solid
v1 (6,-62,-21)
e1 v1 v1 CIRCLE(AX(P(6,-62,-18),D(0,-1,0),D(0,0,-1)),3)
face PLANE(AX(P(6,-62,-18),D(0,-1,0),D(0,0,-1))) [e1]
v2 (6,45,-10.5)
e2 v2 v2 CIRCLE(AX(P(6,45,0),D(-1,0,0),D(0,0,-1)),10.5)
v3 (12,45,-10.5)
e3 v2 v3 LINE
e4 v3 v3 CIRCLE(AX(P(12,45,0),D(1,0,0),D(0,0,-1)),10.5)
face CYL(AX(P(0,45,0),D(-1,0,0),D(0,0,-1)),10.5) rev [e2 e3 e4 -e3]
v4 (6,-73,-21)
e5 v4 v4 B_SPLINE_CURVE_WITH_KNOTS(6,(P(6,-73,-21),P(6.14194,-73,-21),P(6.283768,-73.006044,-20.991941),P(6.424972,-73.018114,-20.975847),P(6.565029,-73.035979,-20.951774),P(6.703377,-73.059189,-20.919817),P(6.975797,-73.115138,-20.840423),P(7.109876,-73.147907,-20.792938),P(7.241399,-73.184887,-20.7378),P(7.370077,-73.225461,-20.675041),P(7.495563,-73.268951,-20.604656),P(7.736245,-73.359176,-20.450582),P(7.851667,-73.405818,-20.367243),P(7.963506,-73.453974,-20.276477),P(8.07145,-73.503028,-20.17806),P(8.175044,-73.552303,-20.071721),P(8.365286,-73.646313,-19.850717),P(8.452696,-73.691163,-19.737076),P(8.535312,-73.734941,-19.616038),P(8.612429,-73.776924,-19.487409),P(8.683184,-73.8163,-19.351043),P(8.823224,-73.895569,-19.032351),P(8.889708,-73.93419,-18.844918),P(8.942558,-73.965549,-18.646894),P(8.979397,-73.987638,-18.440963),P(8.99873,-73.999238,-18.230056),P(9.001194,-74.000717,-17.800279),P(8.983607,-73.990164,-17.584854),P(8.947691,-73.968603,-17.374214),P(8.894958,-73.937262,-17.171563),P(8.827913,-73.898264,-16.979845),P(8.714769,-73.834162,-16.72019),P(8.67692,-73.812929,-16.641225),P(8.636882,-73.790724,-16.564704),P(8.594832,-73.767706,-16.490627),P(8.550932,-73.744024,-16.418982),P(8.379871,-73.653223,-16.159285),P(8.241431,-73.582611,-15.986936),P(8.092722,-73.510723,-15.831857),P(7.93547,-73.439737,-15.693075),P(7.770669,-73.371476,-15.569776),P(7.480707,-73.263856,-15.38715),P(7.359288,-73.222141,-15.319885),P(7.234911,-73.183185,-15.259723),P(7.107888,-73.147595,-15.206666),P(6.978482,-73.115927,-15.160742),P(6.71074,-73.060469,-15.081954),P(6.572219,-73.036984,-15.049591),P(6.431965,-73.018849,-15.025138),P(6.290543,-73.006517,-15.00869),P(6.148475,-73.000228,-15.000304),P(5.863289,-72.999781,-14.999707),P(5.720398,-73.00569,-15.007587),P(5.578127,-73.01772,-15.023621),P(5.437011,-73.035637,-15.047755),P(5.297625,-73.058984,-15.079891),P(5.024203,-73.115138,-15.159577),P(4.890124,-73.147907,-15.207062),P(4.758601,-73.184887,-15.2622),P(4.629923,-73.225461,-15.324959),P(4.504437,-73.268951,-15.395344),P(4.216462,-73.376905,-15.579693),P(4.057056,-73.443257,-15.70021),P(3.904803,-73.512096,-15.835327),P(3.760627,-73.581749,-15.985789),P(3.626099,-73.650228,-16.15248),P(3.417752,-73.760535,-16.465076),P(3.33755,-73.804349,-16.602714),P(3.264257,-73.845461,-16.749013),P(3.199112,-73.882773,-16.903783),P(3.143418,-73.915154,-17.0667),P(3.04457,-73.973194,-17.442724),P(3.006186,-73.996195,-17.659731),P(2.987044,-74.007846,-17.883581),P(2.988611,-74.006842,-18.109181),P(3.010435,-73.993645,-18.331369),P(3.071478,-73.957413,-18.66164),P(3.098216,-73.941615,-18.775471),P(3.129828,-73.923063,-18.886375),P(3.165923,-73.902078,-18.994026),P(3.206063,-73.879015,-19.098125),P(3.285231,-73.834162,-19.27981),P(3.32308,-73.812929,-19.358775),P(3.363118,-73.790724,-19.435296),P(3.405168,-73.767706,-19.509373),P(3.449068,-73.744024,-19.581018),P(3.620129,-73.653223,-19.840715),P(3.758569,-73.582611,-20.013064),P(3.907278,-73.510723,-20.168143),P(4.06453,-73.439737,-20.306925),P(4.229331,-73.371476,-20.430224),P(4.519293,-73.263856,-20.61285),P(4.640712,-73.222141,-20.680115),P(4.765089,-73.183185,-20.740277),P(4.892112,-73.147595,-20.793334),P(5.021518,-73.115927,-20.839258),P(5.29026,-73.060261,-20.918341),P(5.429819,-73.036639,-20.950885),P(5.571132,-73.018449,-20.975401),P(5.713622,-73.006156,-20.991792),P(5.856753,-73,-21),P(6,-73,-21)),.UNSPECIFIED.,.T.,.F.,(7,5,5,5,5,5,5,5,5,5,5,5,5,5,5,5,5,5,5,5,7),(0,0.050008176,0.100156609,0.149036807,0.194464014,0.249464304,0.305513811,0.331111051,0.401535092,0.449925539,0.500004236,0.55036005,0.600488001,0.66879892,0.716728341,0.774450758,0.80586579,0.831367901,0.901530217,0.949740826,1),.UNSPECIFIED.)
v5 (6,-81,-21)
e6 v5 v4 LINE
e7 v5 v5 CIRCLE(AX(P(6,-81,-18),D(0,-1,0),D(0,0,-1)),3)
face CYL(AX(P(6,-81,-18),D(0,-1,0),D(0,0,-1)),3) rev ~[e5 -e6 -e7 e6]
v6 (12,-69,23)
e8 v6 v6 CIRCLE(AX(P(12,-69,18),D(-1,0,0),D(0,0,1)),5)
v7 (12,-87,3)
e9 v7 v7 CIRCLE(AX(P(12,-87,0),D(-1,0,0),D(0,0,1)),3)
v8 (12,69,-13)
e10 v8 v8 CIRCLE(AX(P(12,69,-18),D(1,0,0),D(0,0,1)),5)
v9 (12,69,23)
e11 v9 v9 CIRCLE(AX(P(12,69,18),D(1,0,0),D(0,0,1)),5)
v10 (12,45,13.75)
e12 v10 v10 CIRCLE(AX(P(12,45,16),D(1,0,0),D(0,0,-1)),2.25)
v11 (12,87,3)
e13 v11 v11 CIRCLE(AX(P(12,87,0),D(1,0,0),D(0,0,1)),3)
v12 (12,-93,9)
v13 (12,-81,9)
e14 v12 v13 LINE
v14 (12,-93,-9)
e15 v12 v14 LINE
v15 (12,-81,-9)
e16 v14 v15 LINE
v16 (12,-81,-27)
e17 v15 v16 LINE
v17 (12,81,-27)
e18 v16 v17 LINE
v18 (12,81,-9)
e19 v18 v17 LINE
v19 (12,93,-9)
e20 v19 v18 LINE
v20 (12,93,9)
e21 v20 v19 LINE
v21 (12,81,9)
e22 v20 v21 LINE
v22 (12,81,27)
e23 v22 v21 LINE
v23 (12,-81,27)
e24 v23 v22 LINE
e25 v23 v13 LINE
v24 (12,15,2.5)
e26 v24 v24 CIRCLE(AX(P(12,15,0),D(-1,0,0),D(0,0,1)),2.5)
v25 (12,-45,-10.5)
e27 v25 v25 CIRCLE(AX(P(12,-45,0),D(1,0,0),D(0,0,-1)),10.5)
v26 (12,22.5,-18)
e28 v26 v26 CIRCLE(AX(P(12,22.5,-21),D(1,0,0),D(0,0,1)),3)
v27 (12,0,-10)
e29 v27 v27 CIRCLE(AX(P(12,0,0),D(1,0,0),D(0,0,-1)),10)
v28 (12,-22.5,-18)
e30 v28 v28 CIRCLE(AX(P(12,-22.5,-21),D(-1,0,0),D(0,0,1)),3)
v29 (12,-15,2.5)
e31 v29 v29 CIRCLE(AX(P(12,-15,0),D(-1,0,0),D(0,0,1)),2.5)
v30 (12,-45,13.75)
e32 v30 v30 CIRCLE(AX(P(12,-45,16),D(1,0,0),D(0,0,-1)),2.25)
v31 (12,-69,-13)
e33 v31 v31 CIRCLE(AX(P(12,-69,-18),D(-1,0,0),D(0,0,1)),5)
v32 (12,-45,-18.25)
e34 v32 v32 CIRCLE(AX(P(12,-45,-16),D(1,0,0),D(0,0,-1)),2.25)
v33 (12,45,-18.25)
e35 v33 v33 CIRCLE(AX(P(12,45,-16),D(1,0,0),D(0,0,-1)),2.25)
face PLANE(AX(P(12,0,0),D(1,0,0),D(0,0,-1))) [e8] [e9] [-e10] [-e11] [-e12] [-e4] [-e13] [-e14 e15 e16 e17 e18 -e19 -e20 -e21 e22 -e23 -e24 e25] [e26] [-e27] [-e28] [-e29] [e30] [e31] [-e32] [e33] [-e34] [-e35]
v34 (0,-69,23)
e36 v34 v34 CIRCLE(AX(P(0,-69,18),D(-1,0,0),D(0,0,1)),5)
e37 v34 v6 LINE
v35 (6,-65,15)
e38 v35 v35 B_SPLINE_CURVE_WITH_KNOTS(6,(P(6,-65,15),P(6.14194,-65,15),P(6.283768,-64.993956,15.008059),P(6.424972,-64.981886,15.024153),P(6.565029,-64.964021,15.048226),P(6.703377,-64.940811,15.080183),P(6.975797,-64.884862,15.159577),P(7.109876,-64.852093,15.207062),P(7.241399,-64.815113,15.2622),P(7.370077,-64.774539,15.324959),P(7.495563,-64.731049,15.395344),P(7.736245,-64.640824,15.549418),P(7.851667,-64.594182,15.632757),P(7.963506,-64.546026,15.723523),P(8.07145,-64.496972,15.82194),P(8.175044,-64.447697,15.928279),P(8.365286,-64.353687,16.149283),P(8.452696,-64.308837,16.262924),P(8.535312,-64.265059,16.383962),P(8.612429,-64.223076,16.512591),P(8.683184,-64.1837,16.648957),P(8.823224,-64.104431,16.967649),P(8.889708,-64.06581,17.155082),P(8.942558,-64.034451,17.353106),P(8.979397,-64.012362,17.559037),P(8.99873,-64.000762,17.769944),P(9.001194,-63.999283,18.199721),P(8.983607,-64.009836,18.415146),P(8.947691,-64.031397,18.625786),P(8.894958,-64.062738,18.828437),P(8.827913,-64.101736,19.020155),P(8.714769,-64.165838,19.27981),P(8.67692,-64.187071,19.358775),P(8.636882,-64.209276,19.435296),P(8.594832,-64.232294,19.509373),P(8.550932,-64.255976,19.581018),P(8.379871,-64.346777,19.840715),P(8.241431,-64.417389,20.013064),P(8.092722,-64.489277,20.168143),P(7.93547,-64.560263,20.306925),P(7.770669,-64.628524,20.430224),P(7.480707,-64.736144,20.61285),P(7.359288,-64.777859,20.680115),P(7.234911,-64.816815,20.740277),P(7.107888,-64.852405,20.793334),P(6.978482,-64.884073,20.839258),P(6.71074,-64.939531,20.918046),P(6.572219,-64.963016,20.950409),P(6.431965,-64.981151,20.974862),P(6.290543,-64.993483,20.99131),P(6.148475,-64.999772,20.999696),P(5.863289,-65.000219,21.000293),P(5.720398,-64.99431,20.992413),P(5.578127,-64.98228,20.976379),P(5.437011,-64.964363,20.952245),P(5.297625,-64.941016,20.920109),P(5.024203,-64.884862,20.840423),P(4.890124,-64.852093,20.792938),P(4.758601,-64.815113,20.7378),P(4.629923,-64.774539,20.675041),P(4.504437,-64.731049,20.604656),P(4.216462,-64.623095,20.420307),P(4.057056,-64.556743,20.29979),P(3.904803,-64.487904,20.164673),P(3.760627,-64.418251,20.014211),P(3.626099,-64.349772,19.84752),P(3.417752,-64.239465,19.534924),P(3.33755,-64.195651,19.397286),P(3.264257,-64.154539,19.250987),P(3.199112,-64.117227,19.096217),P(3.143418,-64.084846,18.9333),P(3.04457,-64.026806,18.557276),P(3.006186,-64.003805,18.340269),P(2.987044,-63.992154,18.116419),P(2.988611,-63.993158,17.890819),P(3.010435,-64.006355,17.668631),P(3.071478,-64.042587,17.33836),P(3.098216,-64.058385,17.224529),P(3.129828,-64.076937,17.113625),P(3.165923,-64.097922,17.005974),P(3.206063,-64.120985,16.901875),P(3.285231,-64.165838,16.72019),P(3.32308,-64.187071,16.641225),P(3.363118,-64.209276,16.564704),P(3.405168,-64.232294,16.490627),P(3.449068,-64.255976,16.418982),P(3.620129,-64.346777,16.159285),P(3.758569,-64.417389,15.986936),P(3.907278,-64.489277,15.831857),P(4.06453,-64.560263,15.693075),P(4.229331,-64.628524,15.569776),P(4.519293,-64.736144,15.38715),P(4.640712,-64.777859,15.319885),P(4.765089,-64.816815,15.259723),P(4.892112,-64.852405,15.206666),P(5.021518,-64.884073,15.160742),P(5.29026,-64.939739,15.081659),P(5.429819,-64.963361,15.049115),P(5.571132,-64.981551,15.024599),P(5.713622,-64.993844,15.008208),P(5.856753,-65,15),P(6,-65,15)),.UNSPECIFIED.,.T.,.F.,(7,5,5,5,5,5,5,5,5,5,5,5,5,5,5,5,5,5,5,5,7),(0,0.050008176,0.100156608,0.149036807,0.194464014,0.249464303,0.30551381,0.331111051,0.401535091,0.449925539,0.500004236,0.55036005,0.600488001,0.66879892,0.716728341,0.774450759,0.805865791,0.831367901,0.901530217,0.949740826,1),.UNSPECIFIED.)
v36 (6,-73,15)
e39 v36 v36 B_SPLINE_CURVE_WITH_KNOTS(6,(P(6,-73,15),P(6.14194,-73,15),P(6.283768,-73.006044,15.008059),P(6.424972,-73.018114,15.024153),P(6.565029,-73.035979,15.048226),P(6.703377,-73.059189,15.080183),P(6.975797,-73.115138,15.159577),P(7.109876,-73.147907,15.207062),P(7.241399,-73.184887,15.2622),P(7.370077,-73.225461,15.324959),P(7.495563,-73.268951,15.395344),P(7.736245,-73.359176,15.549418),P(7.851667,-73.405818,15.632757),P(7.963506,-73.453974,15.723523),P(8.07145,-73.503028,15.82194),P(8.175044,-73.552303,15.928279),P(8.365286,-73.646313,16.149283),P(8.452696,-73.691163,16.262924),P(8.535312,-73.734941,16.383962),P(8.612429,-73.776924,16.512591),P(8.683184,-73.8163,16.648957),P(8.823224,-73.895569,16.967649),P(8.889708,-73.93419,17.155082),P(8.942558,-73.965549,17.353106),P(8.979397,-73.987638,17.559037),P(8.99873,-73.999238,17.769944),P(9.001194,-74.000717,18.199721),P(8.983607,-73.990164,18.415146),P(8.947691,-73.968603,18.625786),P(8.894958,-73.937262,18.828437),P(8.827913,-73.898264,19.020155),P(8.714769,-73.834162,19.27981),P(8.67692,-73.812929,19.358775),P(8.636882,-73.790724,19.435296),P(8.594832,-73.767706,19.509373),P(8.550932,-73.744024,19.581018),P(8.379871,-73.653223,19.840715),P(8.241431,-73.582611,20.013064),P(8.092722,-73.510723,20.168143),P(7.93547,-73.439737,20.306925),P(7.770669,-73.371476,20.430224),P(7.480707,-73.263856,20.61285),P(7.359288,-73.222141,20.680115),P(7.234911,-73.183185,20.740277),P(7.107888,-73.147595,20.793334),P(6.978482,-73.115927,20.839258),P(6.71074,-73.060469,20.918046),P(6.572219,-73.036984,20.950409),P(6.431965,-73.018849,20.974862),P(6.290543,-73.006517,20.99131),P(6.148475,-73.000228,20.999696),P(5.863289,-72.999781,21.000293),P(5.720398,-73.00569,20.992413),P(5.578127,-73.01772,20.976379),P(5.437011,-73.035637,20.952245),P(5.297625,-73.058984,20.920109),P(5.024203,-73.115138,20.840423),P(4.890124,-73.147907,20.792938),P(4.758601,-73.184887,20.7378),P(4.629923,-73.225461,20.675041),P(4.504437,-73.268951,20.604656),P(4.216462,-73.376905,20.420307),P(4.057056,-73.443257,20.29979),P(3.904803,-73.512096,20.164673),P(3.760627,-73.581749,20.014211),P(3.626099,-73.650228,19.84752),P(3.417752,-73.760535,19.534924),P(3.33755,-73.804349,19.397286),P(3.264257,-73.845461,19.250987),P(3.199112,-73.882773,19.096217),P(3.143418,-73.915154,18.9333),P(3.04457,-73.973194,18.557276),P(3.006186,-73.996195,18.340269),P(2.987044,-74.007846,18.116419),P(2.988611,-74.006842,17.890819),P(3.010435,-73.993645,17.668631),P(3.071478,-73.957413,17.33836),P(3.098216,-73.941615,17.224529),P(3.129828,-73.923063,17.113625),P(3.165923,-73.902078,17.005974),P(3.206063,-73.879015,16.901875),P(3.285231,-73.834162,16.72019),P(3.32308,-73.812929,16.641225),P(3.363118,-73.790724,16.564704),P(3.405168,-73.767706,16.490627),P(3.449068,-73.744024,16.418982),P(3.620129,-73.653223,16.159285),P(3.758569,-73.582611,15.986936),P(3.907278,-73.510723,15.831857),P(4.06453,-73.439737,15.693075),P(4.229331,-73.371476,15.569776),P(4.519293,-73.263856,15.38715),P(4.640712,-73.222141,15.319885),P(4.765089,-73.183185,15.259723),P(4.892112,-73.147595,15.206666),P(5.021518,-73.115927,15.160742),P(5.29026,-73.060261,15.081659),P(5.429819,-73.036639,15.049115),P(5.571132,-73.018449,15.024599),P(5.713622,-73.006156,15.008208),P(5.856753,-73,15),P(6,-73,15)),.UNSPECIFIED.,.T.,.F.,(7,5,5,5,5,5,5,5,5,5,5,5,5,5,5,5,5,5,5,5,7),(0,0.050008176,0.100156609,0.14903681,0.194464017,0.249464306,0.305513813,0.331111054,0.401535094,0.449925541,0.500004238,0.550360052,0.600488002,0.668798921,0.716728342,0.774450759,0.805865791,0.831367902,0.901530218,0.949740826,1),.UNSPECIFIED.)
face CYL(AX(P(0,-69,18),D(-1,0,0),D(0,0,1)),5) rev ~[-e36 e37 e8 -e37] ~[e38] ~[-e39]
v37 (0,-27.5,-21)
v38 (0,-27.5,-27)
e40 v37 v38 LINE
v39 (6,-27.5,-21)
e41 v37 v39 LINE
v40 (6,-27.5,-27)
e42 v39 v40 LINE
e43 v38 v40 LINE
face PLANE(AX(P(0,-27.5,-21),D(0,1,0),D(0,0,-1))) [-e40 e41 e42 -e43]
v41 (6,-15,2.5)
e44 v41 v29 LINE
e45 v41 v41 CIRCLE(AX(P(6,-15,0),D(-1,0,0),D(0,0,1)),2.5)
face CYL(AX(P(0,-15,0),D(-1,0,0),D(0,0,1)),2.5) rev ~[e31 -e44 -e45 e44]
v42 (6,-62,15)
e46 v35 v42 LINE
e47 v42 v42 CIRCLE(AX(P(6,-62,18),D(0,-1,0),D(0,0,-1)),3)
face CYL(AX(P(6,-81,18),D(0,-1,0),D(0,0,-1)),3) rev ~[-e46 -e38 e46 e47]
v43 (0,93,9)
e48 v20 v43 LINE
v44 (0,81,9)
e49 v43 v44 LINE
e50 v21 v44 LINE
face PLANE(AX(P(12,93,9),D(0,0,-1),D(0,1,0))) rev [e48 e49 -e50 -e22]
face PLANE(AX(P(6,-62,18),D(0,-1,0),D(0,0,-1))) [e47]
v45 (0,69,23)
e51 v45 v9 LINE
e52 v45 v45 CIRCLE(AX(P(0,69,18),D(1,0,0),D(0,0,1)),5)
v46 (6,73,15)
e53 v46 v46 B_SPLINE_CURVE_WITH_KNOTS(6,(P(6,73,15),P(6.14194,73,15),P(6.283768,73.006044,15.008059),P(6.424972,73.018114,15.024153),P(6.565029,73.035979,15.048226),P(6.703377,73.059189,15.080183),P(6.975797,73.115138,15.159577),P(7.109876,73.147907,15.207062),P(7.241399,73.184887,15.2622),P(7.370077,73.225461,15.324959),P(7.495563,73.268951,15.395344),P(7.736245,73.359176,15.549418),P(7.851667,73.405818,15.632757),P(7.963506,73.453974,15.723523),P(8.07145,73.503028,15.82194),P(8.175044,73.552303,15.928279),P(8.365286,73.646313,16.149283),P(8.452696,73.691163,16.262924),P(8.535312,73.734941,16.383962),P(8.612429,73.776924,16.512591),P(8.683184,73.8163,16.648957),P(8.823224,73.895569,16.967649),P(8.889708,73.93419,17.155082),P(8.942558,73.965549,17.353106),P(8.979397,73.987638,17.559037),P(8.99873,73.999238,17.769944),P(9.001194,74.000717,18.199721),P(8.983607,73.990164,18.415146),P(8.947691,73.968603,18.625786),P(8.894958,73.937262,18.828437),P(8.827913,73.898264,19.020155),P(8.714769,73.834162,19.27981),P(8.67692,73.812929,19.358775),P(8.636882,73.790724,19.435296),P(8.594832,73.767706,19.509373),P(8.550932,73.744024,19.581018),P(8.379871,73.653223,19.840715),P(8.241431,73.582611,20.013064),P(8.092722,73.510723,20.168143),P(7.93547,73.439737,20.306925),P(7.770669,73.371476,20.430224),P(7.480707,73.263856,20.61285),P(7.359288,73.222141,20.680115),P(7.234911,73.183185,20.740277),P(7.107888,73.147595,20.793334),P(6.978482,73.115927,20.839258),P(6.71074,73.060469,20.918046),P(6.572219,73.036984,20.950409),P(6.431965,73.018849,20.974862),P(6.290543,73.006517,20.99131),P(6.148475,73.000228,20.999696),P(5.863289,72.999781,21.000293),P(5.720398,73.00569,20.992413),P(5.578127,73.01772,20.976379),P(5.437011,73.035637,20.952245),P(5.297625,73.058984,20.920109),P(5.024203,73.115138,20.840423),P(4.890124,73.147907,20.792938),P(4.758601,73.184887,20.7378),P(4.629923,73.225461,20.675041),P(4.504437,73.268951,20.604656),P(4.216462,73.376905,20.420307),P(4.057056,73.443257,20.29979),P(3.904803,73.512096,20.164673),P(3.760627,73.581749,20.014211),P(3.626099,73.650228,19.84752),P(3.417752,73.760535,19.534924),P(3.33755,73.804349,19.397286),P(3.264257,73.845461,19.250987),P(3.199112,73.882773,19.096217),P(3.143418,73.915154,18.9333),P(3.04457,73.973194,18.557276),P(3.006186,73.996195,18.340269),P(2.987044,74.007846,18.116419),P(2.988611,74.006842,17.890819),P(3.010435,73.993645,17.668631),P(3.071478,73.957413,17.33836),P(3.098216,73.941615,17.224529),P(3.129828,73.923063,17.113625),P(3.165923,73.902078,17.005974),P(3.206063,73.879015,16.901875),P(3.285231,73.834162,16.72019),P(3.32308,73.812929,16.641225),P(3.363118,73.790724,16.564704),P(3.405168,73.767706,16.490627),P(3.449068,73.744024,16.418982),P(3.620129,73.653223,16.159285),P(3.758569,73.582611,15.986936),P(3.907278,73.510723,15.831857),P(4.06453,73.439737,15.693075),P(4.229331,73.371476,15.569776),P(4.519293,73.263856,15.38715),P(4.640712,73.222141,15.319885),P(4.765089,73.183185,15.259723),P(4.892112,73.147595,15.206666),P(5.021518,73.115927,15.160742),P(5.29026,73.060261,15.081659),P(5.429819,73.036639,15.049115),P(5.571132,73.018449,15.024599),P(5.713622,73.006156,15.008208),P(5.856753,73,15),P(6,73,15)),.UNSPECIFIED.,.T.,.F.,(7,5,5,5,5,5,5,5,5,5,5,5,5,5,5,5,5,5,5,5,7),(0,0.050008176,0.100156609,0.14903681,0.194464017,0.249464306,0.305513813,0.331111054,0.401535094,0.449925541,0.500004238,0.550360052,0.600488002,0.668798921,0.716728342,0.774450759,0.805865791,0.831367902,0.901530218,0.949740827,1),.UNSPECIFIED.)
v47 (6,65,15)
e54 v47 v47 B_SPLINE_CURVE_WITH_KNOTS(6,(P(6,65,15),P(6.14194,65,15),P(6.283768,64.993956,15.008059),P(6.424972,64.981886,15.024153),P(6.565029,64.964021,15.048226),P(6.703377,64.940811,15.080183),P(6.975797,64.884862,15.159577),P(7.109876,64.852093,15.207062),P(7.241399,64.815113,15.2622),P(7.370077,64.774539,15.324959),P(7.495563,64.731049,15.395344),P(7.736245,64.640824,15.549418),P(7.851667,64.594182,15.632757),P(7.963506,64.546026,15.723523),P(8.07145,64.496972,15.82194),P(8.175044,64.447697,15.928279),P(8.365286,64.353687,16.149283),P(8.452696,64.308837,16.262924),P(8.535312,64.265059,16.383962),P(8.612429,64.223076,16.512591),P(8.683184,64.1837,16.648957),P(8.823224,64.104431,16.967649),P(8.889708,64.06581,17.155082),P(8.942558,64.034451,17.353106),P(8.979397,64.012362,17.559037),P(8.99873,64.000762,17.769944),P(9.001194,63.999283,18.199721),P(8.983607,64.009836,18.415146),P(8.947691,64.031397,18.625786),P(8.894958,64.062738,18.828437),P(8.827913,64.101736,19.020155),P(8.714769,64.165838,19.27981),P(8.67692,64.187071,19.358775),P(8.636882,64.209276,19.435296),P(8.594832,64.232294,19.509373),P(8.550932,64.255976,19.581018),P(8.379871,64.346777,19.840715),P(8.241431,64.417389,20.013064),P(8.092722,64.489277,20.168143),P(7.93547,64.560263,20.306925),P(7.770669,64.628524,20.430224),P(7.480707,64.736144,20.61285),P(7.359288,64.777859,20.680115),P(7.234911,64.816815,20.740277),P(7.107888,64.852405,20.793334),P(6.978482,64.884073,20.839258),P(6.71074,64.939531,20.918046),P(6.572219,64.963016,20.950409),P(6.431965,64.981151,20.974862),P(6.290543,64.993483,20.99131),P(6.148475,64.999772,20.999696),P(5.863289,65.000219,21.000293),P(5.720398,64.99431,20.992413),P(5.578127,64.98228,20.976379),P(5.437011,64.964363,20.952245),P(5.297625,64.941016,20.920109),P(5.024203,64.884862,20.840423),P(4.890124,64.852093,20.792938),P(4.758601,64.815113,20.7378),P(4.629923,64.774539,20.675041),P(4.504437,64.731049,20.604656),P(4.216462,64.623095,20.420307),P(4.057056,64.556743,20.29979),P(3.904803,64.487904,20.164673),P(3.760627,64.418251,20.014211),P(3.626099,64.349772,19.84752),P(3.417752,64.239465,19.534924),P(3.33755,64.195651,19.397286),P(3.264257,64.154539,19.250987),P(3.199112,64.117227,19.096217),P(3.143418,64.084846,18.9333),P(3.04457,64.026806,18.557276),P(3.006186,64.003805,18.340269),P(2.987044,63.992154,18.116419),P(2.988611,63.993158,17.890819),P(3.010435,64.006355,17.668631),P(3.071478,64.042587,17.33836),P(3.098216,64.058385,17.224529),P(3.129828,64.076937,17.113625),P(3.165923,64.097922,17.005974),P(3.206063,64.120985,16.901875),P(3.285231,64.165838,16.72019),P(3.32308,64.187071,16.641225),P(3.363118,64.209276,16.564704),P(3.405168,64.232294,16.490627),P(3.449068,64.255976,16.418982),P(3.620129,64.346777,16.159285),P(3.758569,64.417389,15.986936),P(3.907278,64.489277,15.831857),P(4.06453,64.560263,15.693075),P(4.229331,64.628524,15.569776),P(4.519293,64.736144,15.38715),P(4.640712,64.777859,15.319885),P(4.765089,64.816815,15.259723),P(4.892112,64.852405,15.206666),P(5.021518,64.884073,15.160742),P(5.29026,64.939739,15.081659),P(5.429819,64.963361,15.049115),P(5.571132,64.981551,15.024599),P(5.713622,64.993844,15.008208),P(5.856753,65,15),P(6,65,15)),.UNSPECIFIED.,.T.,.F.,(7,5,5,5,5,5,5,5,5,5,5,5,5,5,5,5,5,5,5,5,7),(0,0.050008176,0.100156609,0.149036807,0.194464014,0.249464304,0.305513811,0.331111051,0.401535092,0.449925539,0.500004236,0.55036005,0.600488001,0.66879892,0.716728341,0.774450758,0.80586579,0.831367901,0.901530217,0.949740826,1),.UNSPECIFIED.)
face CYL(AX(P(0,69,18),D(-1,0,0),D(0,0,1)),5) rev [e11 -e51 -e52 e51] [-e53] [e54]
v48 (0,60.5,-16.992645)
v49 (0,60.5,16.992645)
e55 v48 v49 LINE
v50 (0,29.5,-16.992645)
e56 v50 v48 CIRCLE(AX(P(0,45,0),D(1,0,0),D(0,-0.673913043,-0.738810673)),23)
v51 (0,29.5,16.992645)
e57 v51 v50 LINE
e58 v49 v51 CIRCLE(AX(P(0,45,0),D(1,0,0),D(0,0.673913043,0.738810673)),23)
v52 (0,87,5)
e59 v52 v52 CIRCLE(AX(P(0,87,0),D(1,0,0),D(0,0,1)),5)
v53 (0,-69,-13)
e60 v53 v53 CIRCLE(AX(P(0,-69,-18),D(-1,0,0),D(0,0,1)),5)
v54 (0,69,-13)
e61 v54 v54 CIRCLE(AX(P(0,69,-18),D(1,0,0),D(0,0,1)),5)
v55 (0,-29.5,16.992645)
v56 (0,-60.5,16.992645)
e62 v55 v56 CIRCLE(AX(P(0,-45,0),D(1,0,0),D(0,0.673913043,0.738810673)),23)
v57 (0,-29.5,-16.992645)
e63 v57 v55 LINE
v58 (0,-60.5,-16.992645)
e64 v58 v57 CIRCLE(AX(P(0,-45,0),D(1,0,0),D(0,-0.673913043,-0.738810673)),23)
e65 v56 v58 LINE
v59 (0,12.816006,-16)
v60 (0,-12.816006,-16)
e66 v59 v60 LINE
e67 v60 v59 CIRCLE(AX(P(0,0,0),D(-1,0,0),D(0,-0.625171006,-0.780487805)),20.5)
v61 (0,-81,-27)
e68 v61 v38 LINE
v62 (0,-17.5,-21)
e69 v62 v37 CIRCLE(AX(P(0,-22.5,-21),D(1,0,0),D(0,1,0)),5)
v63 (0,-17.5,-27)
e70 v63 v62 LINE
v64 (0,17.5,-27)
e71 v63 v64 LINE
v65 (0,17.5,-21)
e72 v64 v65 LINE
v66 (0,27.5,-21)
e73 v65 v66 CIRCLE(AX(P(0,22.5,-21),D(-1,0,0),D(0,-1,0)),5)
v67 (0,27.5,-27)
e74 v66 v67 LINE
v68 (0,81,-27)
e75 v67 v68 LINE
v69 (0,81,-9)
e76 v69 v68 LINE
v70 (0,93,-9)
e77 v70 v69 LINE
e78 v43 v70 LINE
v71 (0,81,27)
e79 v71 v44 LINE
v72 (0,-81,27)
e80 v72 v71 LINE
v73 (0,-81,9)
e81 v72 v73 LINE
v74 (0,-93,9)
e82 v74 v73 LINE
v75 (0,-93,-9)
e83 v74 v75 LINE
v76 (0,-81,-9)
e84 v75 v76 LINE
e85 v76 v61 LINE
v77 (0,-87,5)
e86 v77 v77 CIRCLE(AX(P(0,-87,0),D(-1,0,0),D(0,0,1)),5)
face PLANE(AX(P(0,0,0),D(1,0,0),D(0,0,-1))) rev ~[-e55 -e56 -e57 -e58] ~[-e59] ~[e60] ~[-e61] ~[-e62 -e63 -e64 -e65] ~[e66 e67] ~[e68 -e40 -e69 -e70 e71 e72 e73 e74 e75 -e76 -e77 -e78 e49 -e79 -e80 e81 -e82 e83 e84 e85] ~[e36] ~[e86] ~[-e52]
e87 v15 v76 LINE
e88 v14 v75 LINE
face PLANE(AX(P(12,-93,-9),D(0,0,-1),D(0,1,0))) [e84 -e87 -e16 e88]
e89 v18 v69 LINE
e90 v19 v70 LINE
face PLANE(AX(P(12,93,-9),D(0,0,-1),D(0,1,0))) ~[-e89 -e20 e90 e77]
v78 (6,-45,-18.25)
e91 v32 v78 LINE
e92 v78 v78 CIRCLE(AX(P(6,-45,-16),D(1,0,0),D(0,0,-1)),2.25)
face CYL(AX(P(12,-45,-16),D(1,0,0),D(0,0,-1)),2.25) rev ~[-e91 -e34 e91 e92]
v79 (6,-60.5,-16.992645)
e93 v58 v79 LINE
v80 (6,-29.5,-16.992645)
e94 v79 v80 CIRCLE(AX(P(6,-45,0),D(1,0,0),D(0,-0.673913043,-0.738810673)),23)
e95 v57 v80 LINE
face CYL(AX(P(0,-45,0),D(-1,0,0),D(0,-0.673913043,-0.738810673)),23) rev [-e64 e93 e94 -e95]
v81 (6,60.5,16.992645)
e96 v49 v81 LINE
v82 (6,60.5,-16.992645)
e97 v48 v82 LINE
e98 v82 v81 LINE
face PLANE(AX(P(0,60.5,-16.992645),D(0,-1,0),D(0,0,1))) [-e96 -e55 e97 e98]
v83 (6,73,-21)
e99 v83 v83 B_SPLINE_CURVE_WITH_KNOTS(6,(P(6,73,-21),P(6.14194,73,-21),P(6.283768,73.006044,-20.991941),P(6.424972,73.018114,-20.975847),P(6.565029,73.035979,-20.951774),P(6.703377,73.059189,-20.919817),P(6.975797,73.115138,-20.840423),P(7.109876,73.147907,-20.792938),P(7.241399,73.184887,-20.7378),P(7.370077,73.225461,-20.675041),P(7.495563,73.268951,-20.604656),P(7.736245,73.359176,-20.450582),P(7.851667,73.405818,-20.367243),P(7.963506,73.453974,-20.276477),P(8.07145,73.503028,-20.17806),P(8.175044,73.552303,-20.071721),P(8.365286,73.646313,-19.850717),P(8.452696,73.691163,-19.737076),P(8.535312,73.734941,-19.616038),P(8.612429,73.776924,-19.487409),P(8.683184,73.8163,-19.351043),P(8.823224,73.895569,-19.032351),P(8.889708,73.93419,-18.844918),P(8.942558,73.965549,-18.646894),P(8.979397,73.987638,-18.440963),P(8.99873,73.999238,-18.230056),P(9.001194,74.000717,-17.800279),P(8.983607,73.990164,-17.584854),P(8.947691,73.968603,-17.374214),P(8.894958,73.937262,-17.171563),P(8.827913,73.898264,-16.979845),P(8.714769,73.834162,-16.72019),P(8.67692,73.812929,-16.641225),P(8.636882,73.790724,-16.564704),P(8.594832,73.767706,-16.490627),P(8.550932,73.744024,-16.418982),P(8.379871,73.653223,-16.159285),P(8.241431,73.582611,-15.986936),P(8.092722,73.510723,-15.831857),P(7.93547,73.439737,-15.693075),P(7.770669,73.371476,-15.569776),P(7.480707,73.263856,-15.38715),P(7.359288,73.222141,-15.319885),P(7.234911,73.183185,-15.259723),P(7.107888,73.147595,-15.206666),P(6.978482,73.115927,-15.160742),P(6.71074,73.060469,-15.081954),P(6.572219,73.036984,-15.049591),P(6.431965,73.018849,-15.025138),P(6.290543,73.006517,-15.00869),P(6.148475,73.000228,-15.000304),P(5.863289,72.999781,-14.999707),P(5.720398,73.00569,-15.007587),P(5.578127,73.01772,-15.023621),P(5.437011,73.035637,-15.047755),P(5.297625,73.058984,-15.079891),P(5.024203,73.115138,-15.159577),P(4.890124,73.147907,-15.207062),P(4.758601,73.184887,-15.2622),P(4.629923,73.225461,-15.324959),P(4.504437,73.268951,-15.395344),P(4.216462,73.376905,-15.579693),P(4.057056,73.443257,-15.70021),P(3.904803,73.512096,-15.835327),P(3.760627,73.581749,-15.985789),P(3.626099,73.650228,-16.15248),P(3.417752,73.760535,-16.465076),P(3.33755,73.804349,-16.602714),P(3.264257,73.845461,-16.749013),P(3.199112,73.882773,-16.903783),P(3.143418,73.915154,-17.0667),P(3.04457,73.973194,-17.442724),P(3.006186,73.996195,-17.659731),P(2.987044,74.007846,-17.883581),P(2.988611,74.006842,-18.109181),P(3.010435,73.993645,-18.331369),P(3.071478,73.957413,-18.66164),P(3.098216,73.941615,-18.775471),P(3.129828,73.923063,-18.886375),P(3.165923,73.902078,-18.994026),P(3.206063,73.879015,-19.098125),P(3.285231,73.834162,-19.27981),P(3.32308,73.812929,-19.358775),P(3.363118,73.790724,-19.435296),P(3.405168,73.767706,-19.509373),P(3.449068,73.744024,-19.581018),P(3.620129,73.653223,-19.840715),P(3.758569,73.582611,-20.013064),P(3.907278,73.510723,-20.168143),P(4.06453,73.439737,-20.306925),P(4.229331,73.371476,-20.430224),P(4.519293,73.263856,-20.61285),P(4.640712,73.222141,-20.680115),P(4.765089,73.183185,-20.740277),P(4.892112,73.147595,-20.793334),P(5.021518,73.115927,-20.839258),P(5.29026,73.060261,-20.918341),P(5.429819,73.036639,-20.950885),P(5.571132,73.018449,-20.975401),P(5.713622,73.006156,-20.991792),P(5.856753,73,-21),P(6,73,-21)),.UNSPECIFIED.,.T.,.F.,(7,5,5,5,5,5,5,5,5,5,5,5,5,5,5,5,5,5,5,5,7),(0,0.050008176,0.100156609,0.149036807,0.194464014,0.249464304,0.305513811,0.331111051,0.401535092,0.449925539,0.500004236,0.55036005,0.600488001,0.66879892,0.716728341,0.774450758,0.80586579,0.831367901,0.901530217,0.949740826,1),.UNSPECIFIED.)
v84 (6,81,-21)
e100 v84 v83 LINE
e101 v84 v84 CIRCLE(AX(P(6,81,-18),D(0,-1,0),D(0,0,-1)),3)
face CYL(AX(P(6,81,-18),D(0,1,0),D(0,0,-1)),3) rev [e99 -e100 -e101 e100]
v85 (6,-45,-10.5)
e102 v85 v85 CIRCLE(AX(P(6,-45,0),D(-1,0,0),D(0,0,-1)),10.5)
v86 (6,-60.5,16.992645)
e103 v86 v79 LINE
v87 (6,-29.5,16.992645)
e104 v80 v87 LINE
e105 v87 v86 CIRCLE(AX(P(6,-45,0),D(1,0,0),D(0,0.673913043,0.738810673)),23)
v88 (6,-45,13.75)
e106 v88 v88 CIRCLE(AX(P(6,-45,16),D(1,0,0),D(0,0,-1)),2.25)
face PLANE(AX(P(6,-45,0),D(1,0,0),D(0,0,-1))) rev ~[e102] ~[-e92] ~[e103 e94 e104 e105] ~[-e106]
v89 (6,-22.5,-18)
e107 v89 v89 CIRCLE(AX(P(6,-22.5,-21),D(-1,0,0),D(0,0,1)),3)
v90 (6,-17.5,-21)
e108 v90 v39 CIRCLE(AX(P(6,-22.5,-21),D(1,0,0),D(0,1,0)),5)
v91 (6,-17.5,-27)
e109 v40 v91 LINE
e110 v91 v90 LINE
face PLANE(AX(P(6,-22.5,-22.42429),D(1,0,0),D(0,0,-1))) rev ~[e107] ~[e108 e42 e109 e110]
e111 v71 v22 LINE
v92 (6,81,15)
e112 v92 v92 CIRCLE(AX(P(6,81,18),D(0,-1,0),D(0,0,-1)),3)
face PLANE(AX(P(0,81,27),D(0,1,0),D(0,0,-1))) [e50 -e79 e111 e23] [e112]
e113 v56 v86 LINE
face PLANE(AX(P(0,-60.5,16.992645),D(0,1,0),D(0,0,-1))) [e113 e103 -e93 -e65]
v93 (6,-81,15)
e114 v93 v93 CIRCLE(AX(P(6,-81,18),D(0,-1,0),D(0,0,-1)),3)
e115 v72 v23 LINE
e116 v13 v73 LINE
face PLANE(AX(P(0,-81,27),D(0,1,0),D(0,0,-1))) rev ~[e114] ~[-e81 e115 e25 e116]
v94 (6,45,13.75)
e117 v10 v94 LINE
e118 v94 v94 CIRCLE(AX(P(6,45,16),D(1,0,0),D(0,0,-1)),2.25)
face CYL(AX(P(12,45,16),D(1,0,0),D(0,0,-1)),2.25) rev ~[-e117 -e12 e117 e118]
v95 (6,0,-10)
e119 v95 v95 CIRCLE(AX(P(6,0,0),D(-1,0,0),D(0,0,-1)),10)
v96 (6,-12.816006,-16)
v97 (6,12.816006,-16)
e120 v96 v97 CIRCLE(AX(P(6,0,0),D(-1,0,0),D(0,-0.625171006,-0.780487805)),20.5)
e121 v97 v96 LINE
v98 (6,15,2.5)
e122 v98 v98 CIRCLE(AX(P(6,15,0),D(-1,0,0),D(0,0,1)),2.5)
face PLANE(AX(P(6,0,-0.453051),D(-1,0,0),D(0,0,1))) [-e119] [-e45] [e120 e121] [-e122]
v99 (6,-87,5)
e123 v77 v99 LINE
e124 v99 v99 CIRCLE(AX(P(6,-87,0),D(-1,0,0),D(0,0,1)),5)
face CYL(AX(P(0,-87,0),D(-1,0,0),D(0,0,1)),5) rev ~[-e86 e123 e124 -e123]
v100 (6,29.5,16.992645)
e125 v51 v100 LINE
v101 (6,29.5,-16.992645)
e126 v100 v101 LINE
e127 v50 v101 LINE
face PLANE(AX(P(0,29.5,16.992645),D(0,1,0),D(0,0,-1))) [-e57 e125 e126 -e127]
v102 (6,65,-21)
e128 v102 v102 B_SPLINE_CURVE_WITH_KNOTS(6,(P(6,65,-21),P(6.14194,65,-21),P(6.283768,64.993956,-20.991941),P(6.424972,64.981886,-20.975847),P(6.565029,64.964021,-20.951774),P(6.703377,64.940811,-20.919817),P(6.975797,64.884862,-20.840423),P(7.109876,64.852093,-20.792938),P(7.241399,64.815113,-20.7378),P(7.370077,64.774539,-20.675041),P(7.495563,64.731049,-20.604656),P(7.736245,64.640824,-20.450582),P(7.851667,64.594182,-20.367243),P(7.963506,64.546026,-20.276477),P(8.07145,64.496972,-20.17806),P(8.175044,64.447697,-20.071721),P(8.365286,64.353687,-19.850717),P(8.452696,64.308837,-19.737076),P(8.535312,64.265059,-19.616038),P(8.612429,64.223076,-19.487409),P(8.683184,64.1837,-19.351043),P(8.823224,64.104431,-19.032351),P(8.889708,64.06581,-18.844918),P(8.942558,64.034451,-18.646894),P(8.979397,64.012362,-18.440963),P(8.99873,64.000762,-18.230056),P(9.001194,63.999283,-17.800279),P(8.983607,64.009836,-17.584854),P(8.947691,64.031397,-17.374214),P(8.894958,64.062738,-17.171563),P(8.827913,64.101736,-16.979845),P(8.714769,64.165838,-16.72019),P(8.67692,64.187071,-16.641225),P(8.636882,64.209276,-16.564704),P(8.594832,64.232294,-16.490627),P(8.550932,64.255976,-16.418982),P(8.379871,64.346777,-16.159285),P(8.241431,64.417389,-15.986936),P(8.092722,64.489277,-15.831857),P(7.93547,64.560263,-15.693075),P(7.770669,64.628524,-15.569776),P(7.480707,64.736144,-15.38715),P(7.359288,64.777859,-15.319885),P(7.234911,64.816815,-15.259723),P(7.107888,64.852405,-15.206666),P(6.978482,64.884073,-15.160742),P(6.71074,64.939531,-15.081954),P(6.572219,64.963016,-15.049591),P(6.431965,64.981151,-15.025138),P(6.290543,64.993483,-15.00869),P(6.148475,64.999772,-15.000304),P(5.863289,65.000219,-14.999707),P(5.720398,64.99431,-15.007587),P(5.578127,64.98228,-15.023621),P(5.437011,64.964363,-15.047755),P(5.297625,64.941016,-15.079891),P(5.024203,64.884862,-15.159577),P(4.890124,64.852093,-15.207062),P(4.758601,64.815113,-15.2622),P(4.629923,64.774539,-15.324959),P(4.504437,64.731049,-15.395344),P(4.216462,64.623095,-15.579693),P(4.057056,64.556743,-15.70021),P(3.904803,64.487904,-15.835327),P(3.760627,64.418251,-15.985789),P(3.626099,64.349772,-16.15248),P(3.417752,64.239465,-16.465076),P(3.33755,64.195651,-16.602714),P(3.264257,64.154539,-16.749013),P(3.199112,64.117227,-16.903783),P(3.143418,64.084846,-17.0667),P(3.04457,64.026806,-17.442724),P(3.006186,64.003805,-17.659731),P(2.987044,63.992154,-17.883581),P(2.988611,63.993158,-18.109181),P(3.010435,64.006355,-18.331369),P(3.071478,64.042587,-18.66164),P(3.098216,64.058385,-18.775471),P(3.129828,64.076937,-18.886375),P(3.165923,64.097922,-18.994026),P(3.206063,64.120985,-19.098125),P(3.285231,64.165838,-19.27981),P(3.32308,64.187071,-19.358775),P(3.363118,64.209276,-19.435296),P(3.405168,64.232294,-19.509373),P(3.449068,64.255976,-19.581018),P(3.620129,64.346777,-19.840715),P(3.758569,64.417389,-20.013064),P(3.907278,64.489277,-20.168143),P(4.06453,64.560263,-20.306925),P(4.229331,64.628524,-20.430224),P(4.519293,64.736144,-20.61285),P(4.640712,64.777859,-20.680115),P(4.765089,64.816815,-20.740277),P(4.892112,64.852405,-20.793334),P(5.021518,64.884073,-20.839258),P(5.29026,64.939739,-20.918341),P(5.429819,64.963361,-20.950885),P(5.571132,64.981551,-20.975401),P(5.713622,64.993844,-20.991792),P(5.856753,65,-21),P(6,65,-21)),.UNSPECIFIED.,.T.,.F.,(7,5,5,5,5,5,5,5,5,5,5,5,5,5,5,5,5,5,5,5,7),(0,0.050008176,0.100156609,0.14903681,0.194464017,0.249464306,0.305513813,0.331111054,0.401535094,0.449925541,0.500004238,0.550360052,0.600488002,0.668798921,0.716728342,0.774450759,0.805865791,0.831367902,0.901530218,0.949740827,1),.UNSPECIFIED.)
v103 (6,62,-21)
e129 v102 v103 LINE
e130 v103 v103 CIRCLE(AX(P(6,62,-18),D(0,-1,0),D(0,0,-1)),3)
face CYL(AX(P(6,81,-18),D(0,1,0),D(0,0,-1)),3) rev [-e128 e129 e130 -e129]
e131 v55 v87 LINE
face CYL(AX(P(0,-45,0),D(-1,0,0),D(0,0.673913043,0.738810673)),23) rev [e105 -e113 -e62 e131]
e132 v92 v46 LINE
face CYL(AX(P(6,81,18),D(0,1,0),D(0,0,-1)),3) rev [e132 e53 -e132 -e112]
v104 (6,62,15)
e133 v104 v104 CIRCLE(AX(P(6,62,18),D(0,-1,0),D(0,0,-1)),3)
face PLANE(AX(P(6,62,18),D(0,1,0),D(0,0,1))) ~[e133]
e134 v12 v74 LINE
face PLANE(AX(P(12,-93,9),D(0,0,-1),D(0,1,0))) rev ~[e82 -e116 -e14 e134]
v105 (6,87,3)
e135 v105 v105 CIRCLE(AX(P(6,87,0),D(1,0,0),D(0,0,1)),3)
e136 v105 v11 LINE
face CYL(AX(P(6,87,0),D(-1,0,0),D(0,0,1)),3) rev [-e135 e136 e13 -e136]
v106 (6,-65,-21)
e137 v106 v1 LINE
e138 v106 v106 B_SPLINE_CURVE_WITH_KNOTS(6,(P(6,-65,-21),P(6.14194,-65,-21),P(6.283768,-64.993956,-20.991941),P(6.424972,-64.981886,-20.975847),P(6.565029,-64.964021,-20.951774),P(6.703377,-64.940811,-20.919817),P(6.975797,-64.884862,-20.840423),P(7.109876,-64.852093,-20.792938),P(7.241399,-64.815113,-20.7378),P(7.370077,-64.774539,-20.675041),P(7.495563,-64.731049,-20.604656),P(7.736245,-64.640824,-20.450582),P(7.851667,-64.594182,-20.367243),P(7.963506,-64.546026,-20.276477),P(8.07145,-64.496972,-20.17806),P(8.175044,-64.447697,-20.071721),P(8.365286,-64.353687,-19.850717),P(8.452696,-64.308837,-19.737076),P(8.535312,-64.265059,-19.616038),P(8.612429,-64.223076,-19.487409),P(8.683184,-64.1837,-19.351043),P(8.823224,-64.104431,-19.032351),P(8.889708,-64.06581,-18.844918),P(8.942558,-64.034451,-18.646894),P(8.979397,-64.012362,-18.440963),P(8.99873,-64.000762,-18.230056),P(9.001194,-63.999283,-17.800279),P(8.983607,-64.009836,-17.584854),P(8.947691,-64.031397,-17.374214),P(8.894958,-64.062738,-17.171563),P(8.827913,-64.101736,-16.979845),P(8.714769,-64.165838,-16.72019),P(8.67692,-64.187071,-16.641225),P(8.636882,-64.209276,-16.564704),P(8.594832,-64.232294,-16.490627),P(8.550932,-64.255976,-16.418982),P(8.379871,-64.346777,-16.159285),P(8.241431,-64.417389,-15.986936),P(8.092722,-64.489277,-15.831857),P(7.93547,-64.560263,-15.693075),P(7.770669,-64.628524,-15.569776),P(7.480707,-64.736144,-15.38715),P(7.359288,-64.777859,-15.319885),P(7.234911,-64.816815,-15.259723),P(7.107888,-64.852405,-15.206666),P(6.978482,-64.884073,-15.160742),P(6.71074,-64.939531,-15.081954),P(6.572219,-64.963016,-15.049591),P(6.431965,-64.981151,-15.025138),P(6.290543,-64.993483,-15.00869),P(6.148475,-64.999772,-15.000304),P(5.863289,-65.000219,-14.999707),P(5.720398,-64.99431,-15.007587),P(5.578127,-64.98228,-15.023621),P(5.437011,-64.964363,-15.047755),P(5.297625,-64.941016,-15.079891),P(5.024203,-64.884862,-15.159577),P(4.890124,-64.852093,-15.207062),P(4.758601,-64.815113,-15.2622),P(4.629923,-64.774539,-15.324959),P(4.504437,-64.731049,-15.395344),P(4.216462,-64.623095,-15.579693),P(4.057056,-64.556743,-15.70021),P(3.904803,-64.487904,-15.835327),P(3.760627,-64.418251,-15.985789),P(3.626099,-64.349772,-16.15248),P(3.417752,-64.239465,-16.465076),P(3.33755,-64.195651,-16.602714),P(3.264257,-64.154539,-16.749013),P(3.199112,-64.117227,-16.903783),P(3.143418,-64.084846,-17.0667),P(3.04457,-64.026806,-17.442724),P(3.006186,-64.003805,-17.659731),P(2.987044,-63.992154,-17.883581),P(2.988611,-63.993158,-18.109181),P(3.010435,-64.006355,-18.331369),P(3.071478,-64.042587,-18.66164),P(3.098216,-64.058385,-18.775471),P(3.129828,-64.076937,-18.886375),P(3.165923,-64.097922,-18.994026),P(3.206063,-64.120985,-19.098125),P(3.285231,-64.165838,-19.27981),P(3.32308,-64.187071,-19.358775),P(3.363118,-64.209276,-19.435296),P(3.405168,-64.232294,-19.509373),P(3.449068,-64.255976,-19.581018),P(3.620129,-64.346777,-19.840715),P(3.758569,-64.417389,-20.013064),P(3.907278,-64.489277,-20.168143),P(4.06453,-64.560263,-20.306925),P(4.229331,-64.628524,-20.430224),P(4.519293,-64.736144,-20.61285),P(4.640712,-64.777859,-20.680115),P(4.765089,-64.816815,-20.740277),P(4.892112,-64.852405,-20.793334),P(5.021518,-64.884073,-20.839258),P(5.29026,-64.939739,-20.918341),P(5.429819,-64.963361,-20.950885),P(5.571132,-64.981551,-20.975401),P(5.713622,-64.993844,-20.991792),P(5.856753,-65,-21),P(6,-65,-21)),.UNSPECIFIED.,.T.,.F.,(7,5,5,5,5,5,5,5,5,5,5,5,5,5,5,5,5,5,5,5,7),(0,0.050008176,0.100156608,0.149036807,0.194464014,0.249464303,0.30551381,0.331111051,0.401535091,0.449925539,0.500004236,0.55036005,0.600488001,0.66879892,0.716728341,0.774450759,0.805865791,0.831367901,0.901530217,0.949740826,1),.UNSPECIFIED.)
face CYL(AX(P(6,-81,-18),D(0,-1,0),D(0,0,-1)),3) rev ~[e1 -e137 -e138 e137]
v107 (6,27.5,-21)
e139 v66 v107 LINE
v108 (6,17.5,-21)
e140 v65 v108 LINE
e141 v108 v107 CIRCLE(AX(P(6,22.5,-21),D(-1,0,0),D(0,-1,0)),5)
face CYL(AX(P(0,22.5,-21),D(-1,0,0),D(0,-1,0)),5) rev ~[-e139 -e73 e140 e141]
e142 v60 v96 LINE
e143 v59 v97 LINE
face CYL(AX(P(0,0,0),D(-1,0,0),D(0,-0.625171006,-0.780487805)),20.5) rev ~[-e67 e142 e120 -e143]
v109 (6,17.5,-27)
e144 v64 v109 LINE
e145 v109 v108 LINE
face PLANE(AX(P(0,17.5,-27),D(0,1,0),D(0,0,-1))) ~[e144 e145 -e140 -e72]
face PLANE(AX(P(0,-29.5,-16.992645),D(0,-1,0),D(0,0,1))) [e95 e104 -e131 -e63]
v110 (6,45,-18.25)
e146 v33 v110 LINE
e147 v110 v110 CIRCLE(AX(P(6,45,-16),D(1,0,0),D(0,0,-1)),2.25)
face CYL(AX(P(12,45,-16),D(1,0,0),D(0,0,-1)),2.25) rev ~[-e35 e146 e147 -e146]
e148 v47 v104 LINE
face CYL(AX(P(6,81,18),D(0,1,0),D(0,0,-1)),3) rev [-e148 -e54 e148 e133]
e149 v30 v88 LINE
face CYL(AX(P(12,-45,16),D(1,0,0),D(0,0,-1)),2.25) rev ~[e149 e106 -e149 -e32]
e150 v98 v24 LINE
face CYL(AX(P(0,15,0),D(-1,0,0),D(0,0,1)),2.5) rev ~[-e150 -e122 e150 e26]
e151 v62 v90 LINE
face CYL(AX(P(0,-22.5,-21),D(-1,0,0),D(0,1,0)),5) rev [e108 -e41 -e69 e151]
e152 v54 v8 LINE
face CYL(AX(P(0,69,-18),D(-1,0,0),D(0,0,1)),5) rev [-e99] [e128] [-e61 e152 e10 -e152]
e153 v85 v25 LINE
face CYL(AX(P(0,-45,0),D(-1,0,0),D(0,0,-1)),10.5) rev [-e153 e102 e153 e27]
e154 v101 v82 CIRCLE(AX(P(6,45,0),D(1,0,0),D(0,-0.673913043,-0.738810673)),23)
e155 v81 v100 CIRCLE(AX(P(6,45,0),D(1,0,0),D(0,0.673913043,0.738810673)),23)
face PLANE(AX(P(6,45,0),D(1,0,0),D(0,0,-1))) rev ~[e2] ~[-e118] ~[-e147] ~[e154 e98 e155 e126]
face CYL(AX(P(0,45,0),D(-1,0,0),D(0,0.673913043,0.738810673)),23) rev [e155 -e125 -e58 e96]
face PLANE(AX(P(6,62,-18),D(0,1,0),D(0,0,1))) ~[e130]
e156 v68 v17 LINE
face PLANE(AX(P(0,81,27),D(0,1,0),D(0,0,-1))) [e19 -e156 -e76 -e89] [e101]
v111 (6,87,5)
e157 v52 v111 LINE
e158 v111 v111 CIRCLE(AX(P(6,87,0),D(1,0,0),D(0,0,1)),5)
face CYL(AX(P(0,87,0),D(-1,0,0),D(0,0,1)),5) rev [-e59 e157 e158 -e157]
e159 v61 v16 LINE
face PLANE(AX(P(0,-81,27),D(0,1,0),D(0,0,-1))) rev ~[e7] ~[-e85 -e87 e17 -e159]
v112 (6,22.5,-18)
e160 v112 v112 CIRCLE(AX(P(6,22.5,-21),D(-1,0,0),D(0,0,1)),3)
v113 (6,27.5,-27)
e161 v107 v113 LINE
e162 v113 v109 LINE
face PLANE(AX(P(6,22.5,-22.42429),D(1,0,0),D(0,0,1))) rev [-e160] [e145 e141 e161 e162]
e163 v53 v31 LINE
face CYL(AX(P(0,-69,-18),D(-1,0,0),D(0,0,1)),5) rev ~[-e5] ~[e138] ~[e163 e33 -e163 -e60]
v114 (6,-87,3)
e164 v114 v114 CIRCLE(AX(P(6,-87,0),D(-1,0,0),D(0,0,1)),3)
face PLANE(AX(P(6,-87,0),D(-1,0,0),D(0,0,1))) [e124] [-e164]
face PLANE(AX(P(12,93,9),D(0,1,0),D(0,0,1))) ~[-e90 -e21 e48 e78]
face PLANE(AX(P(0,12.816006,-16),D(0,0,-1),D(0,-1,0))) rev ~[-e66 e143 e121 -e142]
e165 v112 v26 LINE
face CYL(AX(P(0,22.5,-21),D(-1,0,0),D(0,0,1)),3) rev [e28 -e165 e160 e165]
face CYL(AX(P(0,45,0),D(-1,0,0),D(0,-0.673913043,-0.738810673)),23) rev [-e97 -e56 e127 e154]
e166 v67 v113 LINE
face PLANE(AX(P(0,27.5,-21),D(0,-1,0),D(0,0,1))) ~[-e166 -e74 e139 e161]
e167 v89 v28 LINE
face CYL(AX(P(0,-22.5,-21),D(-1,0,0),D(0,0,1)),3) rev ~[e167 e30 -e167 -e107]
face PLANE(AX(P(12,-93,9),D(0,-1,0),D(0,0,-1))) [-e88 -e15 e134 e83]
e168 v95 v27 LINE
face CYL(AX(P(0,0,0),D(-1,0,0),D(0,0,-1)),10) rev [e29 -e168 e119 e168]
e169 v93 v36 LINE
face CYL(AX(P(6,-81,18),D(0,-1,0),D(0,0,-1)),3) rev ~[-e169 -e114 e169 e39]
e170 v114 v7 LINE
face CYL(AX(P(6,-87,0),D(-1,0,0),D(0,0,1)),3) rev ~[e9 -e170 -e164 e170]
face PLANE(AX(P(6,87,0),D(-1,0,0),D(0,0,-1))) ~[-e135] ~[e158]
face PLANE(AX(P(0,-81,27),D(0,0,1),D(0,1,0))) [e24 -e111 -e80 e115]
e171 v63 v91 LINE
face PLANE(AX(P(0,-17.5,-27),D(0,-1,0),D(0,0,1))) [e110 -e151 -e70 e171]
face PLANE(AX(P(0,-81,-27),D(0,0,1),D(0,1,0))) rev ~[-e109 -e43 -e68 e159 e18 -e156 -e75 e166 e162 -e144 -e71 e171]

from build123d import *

# Parameters (mm, degrees)
SKETCH2_W           = 54
SKETCH2_H           = 162
SKETCH2_R           = 10
SKETCH2_R_2         = 10.5
BOSS_EXTRUDE1_DEPTH = 12
SKETCH3_W           = 18
SKETCH3_H           = 12
BOSS_EXTRUDE2_DEPTH = 12
CUT_EXTRUDE1_REACH  = 99.581
SKETCH4_R           = 2.25
LPATTERN1_COUNT     = 2
LPATTERN1_PITCH     = 90
CUT_EXTRUDE2_DEPTH  = 6
CUT_EXTRUDE3_REACH  = 99.581
SKETCH6_R           = 5
SKETCH8_R           = 5
CUT_EXTRUDE4_DEPTH  = 6
CUT_EXTRUDE5_REACH  = 99.026
SKETCH9_R           = 3
SKETCH10_R          = 3
CUT_EXTRUDE6_DEPTH  = 19
CUT_EXTRUDE7_REACH  = 99.581
SKETCH11_R          = 3
CUT_EXTRUDE8_DEPTH  = 6
CUT_EXTRUDE9_REACH  = 99.581
SKETCH13_R          = 2.5
CUT_EXTRUDE10_DEPTH = 6


with BuildPart() as part:
    # Sketch2 → Boss-Extrude1 (new body)
    with BuildSketch(Plane(origin=(0, 0, 0), x_dir=(0, 0, -1), z_dir=(1, 0, 0))):
        Rectangle(SKETCH2_W, SKETCH2_H)
        Circle(SKETCH2_R, mode=Mode.SUBTRACT)
        with Locations((0, 45)):
            Circle(SKETCH2_R_2, mode=Mode.SUBTRACT)
        with Locations((0, -45)):
            Circle(SKETCH2_R_2, mode=Mode.SUBTRACT)
    extrude(amount=BOSS_EXTRUDE1_DEPTH)

    # Sketch3 → Boss-Extrude2 (add)
    with BuildSketch(Plane(origin=(12, 0, 0), x_dir=(0, 0, -1), z_dir=(1, 0, 0))):
        with Locations((0, -87)):
            Rectangle(SKETCH3_W, SKETCH3_H)
    boss_extrude2 = extrude(amount=-BOSS_EXTRUDE2_DEPTH)

    # Mirror1: Boss-Extrude2 across plane
    add(boss_extrude2.mirror(Plane.ZX))

    # Sketch4 → Cut-Extrude1 (cut, up to next)
    with BuildSketch(Plane(origin=(12, 0, 0), x_dir=(0, 0, -1), z_dir=(1, 0, 0)), mode=Mode.PRIVATE) as cut_extrude1_sk1:
        with Locations((-16, -45)):
            Circle(SKETCH4_R)
    cut_extrude1_tool1 = extrude(cut_extrude1_sk1.sketch, amount=-CUT_EXTRUDE1_REACH, mode=Mode.PRIVATE) & part.part
    # Sketch4 → Cut-Extrude1 (cut, up to next)
    with BuildSketch(Plane(origin=(12, 0, 0), x_dir=(0, 0, -1), z_dir=(1, 0, 0)), mode=Mode.PRIVATE) as cut_extrude1_sk2:
        with Locations((16, -45)):
            Circle(SKETCH4_R)
    cut_extrude1_tool2 = extrude(cut_extrude1_sk2.sketch, amount=-CUT_EXTRUDE1_REACH, mode=Mode.PRIVATE) & part.part
    cut_extrude1_1 = cut_extrude1_tool1.solids().sort_by_distance((12, -45, 16))[0]
    add(cut_extrude1_1, mode=Mode.SUBTRACT)
    cut_extrude1_2 = cut_extrude1_tool2.solids().sort_by_distance((12, -45, -16))[0]
    add(cut_extrude1_2, mode=Mode.SUBTRACT)
    cut_extrude1 = cut_extrude1_1 + cut_extrude1_2  # Cut-Extrude1 as one shape, for the pattern or mirror that repeats it

    # LPattern1: Cut-Extrude1 ×2
    with Locations(*[(0, i * LPATTERN1_PITCH, 0) for i in range(1, LPATTERN1_COUNT)]):
        add(cut_extrude1, mode=Mode.SUBTRACT)

    # Sketch5 → Cut-Extrude2 (cut)
    with BuildSketch(Plane.ZY):
        with BuildLine():
            Line((16.992645468, 29.5), (-16.992645468, 29.5))
            ThreePointArc((-16.992645468, 29.5), (-23, 45), (-16.992645468, 60.5))
            Line((-16.992645468, 60.5), (16.992645468, 60.5))
            ThreePointArc((16.992645468, 60.5), (23, 45), (16.992645468, 29.5))
        make_face()
        with BuildLine():
            Line((16.992645468, -60.5), (-16.992645468, -60.5))
            ThreePointArc((-16.992645468, -60.5), (-23, -45), (-16.992645468, -29.5))
            Line((-16.992645468, -29.5), (16.992645468, -29.5))
            ThreePointArc((16.992645468, -29.5), (23, -45), (16.992645468, -60.5))
        make_face()
    extrude(amount=-CUT_EXTRUDE2_DEPTH, mode=Mode.SUBTRACT)

    # Sketch6 → Cut-Extrude3 (cut, up to next)
    with BuildSketch(Plane.ZY, mode=Mode.PRIVATE) as cut_extrude3_sk1:
        with Locations((-18, -69)):
            Circle(SKETCH6_R)
    cut_extrude3_tool1 = extrude(cut_extrude3_sk1.sketch, amount=-CUT_EXTRUDE3_REACH, mode=Mode.PRIVATE) & part.part
    # Sketch6 → Cut-Extrude3 (cut, up to next)
    with BuildSketch(Plane.ZY, mode=Mode.PRIVATE) as cut_extrude3_sk2:
        with Locations((18, -69)):
            Circle(SKETCH6_R)
    cut_extrude3_tool2 = extrude(cut_extrude3_sk2.sketch, amount=-CUT_EXTRUDE3_REACH, mode=Mode.PRIVATE) & part.part
    cut_extrude3_1 = cut_extrude3_tool1.solids().sort_by_distance((0, -69, -18))[0]
    add(cut_extrude3_1, mode=Mode.SUBTRACT)
    cut_extrude3_2 = cut_extrude3_tool2.solids().sort_by_distance((0, -69, 18))[0]
    add(cut_extrude3_2, mode=Mode.SUBTRACT)
    cut_extrude3 = cut_extrude3_1 + cut_extrude3_2  # Cut-Extrude3 as one shape, for the pattern or mirror that repeats it

    # Sketch8 → Cut-Extrude4 (cut)
    with BuildSketch(Plane.ZY):
        with Locations((0, -87)):
            Circle(SKETCH8_R)
    cut_extrude4 = extrude(amount=-CUT_EXTRUDE4_DEPTH, mode=Mode.SUBTRACT)

    # Sketch9 → Cut-Extrude5 (cut, up to next)
    with BuildSketch(Plane.ZY.offset(-6), mode=Mode.PRIVATE) as cut_extrude5_sk1:
        with Locations((0, -87)):
            Circle(SKETCH9_R)
    cut_extrude5_tool1 = extrude(cut_extrude5_sk1.sketch, amount=-CUT_EXTRUDE5_REACH, mode=Mode.PRIVATE) & part.part
    cut_extrude5 = cut_extrude5_tool1.solids().sort_by_distance((6, -87, 0))[0]
    add(cut_extrude5, mode=Mode.SUBTRACT)

    # Sketch10 → Cut-Extrude6 (cut)
    with BuildSketch(Plane.XZ.offset(81)):
        with Locations((6, -18)):
            Circle(SKETCH10_R)
        with Locations((6, 18)):
            Circle(SKETCH10_R)
    cut_extrude6 = extrude(amount=-CUT_EXTRUDE6_DEPTH, mode=Mode.SUBTRACT)

    # Sketch11 → Cut-Extrude7 (cut, up to next)
    with BuildSketch(Plane.ZY, mode=Mode.PRIVATE) as cut_extrude7_sk1:
        with Locations((-21, -22.5)):
            Circle(SKETCH11_R)
    cut_extrude7_tool1 = extrude(cut_extrude7_sk1.sketch, amount=-CUT_EXTRUDE7_REACH, mode=Mode.PRIVATE) & part.part
    cut_extrude7 = cut_extrude7_tool1.solids().sort_by_distance((0, -22.5, -21))[0]
    add(cut_extrude7, mode=Mode.SUBTRACT)

    # Sketch12 → Cut-Extrude8 (cut)
    with BuildSketch(Plane.ZY):
        with BuildLine():
            Line((-21, -27.5), (-27, -27.5))
            Line((-27, -27.5), (-27, -17.5))
            Line((-27, -17.5), (-21, -17.5))
            ThreePointArc((-21, -17.5), (-16, -22.5), (-21, -27.5))
        make_face()
    cut_extrude8 = extrude(amount=-CUT_EXTRUDE8_DEPTH, mode=Mode.SUBTRACT)

    # Mirror2: Cut-Extrude3, Cut-Extrude4, Cut-Extrude5, Cut-Extrude6, Cut-Extrude7, Cut-Extrude8 across plane
    add(cut_extrude3.mirror(Plane.ZX), mode=Mode.SUBTRACT)
    add(cut_extrude4.mirror(Plane.ZX), mode=Mode.SUBTRACT)
    add(cut_extrude5.mirror(Plane.ZX), mode=Mode.SUBTRACT)
    add(cut_extrude6.mirror(Plane.ZX), mode=Mode.SUBTRACT)
    add(cut_extrude7.mirror(Plane.ZX), mode=Mode.SUBTRACT)
    add(cut_extrude8.mirror(Plane.ZX), mode=Mode.SUBTRACT)

    # Sketch13 → Cut-Extrude9 (cut, up to next)
    with BuildSketch(Plane.ZY, mode=Mode.PRIVATE) as cut_extrude9_sk1:
        with Locations((0, 15)):
            Circle(SKETCH13_R)
    cut_extrude9_tool1 = extrude(cut_extrude9_sk1.sketch, amount=-CUT_EXTRUDE9_REACH, mode=Mode.PRIVATE) & part.part
    # Sketch13 → Cut-Extrude9 (cut, up to next)
    with BuildSketch(Plane.ZY, mode=Mode.PRIVATE) as cut_extrude9_sk2:
        with Locations((0, -15)):
            Circle(SKETCH13_R)
    cut_extrude9_tool2 = extrude(cut_extrude9_sk2.sketch, amount=-CUT_EXTRUDE9_REACH, mode=Mode.PRIVATE) & part.part
    add(cut_extrude9_tool1.solids().sort_by_distance((0, 15, 0))[0], mode=Mode.SUBTRACT)
    add(cut_extrude9_tool2.solids().sort_by_distance((0, -15, 0))[0], mode=Mode.SUBTRACT)

    # Sketch14 → Cut-Extrude10 (cut)
    with BuildSketch(Plane.ZY):
        with BuildLine():
            Line((-16, 12.816005618), (-16, -12.816005618))
            ThreePointArc((-16, -12.816005618), (20.5, 0), (-16, 12.816005618))
        make_face()
    extrude(amount=-CUT_EXTRUDE10_DEPTH, mode=Mode.SUBTRACT)


solid = part.part
